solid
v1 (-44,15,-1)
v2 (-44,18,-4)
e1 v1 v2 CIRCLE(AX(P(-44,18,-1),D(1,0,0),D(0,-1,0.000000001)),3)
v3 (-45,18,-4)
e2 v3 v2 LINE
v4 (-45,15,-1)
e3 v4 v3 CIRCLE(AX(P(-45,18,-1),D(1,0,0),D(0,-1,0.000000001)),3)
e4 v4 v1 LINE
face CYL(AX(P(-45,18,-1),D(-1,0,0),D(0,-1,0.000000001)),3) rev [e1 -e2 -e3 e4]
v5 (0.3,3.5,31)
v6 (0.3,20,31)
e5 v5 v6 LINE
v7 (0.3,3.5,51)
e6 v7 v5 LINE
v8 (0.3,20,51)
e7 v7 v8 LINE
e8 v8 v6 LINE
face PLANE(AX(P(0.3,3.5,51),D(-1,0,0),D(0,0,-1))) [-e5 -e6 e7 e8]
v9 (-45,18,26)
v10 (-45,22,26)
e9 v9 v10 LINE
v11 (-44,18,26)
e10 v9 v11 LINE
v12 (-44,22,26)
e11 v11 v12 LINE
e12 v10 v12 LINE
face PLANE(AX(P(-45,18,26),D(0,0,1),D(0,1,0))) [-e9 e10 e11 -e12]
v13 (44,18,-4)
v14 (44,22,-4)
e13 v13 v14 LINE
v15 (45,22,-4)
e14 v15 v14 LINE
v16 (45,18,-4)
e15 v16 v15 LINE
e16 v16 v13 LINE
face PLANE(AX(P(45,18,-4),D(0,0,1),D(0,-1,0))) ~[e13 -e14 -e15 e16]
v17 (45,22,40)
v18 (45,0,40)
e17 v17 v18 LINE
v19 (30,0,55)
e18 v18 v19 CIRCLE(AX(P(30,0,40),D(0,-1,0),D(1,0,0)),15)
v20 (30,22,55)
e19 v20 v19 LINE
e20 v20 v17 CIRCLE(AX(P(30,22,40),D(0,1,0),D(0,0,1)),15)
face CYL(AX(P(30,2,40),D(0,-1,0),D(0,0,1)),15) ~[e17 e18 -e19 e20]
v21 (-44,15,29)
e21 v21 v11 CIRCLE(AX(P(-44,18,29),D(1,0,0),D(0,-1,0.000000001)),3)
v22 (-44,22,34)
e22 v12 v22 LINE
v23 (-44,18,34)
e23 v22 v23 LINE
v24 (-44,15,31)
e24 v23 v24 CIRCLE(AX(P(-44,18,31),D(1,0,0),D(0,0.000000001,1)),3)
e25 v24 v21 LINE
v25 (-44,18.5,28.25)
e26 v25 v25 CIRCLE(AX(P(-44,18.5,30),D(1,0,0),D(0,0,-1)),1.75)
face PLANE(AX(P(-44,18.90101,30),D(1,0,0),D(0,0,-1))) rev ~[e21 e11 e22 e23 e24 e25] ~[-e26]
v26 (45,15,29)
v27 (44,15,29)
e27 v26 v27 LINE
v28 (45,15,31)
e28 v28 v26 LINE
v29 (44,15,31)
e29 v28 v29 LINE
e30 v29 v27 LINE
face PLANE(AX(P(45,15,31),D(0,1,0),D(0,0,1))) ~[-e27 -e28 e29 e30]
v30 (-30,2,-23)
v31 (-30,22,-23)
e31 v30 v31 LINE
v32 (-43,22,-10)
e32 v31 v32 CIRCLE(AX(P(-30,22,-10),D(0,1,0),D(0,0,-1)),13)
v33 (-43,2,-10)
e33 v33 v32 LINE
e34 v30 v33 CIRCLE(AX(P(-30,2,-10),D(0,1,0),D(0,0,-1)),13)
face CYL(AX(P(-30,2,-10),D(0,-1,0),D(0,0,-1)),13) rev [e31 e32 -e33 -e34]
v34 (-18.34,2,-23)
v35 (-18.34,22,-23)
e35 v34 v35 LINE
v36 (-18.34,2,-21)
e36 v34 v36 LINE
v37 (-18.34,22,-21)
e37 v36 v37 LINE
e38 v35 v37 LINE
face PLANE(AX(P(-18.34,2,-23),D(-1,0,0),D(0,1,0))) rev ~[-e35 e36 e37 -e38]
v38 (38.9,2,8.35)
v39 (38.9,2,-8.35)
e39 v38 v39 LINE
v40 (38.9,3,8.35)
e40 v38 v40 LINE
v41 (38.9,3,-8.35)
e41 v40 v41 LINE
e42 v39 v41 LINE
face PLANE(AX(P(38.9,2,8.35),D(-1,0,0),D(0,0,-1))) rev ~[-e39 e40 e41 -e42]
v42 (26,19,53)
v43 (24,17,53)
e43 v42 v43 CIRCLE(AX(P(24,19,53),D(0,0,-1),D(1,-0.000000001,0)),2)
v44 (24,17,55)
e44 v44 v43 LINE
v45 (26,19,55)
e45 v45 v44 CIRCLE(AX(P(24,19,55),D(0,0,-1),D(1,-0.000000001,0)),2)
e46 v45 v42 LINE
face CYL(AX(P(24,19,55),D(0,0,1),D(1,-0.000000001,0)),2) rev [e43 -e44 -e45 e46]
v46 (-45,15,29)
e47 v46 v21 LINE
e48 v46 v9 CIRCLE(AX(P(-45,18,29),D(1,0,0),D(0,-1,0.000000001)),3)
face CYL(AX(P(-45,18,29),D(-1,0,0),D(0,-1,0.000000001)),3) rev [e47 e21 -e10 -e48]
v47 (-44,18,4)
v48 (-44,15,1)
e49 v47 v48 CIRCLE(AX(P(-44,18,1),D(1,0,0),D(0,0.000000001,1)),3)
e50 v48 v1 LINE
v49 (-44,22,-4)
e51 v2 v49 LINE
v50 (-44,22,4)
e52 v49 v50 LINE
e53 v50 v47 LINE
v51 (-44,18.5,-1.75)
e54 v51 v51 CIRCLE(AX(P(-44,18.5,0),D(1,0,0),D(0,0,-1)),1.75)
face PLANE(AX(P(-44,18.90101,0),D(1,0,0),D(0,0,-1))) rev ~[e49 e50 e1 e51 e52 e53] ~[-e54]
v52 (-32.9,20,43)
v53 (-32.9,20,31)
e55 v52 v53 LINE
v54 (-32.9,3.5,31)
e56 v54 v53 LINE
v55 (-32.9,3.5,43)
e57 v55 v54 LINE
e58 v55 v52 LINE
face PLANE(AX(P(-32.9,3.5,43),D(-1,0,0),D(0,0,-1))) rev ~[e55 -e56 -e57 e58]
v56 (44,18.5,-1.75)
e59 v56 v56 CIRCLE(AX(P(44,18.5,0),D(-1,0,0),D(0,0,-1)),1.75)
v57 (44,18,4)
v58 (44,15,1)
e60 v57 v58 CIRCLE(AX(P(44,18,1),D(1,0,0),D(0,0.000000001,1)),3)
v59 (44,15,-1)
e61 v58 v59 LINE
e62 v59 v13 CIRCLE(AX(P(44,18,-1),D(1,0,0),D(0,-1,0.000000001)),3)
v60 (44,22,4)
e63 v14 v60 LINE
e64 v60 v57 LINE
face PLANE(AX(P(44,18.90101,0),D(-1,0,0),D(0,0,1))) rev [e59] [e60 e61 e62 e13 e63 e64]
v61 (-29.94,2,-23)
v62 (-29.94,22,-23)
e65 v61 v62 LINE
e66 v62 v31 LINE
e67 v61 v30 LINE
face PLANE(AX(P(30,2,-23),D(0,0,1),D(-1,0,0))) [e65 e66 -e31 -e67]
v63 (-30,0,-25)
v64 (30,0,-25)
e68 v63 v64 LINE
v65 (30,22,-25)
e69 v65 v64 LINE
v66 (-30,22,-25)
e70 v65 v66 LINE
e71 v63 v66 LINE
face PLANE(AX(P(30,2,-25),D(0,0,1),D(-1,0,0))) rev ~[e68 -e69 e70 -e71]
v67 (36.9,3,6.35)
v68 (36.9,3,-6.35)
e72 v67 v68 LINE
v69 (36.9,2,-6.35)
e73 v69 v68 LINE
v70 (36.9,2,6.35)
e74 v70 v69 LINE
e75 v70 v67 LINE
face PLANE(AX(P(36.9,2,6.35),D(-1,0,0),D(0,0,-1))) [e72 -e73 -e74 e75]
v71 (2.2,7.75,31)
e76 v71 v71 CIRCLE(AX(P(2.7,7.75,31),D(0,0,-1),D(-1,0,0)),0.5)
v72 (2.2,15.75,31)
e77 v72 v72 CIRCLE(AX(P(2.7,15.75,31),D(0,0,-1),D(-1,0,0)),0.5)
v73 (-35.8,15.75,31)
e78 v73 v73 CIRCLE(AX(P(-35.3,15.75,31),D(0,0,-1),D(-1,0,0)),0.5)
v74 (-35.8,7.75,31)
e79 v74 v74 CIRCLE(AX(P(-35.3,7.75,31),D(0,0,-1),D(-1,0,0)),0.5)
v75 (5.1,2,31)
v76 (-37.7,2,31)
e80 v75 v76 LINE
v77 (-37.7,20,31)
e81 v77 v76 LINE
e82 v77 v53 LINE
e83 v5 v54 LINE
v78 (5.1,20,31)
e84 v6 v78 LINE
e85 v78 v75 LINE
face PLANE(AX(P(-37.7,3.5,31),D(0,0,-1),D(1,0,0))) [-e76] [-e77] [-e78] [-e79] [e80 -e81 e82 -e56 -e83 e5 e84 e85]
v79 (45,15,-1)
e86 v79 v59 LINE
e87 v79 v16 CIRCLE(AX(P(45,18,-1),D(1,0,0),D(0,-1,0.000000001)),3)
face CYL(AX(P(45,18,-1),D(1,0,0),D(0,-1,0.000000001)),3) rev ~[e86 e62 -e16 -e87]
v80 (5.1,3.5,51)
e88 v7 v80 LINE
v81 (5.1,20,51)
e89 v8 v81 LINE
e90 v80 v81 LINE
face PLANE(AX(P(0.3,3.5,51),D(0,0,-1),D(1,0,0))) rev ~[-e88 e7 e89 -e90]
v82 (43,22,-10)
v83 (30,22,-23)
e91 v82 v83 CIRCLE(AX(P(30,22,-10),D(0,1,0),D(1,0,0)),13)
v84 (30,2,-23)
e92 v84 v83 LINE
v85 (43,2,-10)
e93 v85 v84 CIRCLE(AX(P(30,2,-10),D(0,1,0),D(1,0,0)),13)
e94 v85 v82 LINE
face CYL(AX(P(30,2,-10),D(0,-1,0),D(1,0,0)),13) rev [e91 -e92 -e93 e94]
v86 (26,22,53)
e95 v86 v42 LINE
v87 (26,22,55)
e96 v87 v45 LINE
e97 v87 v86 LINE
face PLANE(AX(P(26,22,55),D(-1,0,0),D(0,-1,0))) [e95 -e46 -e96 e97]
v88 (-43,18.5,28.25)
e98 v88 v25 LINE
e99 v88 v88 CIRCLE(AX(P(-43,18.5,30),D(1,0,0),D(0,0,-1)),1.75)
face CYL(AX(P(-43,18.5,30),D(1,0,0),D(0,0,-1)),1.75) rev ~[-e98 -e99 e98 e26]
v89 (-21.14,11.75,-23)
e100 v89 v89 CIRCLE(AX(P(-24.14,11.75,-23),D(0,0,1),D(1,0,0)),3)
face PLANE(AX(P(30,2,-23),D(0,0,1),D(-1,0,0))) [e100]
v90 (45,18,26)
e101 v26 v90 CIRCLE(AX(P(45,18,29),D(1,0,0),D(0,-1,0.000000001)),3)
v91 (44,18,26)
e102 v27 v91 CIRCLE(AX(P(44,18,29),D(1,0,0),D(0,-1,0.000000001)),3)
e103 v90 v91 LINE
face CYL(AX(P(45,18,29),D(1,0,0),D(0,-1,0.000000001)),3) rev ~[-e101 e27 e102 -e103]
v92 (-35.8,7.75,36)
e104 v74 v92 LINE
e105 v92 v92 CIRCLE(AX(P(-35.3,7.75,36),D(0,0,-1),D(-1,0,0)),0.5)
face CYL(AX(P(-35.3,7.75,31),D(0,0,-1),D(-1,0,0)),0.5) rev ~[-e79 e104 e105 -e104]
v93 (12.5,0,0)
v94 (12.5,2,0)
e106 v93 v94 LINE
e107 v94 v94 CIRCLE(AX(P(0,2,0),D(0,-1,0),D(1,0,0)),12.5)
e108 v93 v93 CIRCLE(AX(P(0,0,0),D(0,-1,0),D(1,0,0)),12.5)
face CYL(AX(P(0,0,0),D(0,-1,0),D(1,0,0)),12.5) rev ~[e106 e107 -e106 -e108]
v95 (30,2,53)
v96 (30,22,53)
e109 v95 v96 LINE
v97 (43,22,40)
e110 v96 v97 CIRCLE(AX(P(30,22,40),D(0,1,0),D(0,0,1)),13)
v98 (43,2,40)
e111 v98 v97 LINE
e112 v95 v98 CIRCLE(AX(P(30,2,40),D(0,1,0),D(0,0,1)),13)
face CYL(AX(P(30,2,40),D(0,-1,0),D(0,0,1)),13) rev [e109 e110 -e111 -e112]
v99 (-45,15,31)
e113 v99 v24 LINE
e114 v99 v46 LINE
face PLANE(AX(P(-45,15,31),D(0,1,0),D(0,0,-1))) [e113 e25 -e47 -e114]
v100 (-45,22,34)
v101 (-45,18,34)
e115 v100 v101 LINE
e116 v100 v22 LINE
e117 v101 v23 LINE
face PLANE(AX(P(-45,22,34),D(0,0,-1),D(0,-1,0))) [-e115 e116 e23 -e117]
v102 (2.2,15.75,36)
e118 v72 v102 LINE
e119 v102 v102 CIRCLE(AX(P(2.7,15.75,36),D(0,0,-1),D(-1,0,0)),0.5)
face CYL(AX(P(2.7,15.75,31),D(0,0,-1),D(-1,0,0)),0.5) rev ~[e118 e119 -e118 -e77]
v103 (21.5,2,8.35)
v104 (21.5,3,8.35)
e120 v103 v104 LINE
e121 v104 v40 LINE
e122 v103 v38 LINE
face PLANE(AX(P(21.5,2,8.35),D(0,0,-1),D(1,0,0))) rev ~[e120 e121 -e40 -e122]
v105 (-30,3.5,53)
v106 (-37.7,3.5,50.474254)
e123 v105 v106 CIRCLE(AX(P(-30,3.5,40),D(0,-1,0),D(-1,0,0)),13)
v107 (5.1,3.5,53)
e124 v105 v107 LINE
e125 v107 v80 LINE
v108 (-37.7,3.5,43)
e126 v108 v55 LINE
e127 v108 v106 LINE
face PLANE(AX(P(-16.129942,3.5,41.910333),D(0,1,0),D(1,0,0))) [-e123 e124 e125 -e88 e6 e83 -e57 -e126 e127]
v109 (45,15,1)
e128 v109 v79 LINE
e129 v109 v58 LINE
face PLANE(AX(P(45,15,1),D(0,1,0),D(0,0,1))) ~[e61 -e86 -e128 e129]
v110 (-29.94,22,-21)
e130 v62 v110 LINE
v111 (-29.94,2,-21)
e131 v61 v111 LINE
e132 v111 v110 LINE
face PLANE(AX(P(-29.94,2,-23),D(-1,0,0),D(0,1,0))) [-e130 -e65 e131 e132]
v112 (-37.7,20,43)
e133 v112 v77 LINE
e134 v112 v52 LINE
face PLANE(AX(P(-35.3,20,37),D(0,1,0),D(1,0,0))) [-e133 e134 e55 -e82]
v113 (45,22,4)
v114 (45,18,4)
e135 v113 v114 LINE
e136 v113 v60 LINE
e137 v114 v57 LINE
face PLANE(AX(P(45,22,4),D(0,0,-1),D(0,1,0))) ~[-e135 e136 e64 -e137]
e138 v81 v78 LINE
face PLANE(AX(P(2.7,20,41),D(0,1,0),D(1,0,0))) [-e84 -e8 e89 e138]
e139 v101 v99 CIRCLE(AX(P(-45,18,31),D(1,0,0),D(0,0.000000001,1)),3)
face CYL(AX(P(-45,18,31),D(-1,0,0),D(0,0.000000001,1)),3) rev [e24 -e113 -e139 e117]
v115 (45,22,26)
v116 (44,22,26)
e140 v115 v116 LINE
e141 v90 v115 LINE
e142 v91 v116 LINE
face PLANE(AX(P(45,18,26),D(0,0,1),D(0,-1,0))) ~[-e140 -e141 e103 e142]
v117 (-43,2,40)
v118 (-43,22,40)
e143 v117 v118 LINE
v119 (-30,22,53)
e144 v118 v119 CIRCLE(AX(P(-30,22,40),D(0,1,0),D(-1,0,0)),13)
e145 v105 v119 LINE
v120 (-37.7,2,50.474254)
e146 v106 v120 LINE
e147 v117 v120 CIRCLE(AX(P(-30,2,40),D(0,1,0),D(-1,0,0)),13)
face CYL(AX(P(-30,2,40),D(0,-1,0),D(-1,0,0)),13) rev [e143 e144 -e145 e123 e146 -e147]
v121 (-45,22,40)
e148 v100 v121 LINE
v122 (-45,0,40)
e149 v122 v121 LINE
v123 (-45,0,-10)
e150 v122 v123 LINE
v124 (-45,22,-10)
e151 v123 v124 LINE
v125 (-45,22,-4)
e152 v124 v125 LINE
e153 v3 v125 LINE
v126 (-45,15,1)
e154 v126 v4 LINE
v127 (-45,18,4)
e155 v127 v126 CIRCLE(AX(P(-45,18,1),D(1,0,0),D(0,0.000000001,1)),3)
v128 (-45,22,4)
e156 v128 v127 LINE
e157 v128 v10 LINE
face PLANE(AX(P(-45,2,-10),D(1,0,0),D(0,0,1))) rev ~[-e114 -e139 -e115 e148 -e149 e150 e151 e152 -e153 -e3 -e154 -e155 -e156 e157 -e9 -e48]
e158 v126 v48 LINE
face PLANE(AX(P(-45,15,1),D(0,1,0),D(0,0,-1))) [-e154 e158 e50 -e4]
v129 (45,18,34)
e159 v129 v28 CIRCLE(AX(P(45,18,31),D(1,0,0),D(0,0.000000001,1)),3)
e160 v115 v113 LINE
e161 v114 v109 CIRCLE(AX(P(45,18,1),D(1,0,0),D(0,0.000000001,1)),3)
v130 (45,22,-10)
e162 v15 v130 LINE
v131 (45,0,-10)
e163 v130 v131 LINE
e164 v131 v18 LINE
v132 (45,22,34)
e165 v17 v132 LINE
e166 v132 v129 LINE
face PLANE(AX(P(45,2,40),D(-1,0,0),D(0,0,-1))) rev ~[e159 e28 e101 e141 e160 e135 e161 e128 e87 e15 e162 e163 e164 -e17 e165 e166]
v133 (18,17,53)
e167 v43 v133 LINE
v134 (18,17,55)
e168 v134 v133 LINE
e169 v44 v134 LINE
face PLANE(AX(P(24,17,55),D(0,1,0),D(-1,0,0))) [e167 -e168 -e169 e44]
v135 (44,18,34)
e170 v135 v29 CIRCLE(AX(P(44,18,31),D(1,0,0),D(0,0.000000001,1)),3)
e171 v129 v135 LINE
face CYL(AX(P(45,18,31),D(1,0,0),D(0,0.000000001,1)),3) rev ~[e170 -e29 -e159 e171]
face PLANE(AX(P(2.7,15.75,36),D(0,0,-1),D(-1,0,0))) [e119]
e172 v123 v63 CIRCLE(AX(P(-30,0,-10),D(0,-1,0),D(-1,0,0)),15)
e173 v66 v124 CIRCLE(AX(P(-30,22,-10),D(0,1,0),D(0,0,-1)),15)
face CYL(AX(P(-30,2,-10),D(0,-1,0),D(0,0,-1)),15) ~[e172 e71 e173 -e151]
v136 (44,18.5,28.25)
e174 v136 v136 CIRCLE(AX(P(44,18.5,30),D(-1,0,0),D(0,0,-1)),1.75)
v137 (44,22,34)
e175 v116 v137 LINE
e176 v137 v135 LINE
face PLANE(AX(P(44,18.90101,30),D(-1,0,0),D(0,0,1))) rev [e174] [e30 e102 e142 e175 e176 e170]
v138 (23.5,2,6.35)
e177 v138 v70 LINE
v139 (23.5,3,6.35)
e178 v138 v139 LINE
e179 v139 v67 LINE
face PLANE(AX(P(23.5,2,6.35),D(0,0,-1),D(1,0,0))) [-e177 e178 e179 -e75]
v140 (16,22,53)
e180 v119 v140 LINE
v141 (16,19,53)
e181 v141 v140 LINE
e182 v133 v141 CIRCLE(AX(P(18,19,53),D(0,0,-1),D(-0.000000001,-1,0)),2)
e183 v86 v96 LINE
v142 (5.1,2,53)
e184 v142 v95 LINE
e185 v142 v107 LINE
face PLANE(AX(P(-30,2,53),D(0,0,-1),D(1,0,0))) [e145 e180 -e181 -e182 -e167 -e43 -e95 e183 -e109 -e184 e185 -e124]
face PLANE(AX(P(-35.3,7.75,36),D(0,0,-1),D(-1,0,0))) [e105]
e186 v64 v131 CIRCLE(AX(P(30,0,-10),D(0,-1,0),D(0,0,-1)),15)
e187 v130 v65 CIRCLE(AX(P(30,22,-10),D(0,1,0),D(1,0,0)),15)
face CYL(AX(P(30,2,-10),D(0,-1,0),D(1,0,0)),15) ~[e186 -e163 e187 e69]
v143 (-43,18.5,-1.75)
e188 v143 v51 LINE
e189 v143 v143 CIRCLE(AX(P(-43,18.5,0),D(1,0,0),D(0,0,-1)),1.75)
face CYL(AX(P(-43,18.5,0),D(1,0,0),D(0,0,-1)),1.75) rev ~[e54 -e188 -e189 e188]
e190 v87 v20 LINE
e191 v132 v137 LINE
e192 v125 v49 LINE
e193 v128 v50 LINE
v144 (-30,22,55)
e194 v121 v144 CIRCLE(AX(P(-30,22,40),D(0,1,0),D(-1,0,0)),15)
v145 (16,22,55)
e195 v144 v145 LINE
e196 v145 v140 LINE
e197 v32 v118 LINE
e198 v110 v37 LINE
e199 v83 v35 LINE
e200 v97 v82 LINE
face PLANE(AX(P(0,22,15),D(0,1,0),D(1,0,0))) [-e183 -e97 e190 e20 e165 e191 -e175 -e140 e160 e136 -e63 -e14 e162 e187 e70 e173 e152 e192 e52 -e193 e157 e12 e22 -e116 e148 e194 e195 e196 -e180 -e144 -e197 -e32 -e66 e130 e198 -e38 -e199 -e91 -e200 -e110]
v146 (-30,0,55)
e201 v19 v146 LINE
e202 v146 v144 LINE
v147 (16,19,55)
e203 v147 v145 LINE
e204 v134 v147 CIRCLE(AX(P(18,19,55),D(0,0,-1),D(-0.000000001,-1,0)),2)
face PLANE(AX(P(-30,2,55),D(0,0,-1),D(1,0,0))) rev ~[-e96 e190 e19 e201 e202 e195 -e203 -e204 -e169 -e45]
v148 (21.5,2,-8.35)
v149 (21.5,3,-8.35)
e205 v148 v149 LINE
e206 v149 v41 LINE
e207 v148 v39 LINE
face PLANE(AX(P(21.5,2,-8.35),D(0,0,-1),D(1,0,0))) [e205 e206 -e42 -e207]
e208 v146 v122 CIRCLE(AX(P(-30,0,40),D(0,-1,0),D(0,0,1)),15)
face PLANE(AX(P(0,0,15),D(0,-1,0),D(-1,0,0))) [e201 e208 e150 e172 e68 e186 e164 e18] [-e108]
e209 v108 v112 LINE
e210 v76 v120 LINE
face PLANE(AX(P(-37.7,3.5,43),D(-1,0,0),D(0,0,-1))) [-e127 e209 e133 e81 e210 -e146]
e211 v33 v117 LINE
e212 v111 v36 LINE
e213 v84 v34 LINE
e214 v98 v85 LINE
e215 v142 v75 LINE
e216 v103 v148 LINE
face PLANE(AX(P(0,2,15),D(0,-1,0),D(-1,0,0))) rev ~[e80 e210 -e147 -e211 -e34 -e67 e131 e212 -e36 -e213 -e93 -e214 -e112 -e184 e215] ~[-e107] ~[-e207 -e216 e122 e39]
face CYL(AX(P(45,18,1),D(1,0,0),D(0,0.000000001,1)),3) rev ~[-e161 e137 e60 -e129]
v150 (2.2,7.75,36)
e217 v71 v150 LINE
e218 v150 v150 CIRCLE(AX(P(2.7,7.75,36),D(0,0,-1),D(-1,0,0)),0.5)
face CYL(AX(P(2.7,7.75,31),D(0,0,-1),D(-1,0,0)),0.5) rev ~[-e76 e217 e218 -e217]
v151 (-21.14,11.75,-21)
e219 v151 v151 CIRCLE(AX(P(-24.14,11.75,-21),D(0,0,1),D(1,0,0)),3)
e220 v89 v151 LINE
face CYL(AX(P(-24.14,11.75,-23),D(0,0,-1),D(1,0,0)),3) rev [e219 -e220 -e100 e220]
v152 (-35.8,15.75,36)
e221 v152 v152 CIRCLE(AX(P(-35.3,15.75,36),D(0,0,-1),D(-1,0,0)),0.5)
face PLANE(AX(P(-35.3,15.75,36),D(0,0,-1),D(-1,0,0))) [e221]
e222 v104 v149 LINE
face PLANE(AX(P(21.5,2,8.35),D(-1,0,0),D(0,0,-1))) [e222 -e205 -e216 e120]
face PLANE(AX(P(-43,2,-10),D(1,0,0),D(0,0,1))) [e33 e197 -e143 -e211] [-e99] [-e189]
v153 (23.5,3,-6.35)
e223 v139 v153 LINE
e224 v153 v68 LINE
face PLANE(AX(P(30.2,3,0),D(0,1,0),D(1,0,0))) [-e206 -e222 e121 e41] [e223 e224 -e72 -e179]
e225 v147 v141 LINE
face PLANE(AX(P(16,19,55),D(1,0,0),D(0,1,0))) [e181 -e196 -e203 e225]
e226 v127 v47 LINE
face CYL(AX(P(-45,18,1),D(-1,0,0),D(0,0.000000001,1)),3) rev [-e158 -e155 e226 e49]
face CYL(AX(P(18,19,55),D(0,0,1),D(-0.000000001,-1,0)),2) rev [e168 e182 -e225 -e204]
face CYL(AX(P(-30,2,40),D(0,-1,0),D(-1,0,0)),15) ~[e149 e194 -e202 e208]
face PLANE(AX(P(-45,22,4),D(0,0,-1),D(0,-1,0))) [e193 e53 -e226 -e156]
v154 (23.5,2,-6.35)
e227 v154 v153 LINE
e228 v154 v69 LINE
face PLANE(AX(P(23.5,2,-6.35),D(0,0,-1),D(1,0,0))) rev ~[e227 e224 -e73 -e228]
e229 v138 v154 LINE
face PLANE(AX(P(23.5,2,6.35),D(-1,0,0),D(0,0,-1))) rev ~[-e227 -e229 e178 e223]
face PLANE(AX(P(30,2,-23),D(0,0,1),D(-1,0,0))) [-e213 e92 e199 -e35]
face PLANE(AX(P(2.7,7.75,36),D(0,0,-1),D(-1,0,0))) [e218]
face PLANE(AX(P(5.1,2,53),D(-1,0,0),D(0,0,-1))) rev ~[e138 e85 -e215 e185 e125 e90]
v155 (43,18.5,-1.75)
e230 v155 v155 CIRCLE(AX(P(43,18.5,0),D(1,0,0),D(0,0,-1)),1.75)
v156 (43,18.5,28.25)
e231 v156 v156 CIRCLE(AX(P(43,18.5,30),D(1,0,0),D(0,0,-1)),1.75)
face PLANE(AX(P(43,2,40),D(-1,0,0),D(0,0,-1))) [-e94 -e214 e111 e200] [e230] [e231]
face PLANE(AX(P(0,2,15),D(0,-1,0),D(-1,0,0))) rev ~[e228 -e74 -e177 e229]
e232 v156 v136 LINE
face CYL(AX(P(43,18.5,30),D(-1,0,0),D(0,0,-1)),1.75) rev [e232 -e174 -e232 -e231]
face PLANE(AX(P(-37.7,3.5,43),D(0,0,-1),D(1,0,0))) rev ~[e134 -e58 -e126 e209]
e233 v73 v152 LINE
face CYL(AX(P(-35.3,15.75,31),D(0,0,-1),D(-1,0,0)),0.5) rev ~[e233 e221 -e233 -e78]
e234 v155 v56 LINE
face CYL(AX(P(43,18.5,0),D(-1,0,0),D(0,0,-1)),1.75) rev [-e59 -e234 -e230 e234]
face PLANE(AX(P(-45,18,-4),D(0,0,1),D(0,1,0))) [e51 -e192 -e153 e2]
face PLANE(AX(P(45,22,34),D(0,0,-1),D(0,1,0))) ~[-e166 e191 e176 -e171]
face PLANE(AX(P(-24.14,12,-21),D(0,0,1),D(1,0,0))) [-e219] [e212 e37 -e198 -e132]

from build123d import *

# Parameters (mm, degrees)
BOSS_EXTRUDE1_DEPTH = 2
BOSS_EXTRUDE2_DEPTH = 20
SKETCH3_R           = 12.5
CUT_EXTRUDE2_DEPTH  = 23
BOSS_EXTRUDE3_DEPTH = 1.5
SKETCH6_W           = 17.4
SKETCH6_H           = 16.7
SKETCH6_W_2         = 13.4
SKETCH6_H_2         = 12.7
BOSS_EXTRUDE4_DEPTH = 1
SKETCH7_W           = 11.6
SKETCH7_H           = 20
SKETCH7_R           = 3
BOSS_EXTRUDE5_DEPTH = 2
SKETCH8_W           = 4.8
SKETCH8_H           = 12
SKETCH8_H_2         = 20
BOSS_EXTRUDE6_DEPTH = 16.5
SKETCH9_R           = 0.5
CUT_EXTRUDE3_DEPTH  = 5
CUT_EXTRUDE4_DEPTH  = 2
SKETCH11_R          = 1.75
CUT_EXTRUDE5_DEPTH  = 2
CUT_EXTRUDE6_DEPTH  = 1


with BuildPart() as part:
    # Sketch1 → Boss-Extrude1 (new body)
    with BuildSketch(Plane(origin=(0, 0, 0), x_dir=(1, 0, 0), z_dir=(0, 1, 0))):
        with BuildLine():
            Line((-30, 25), (30, 25))
            ThreePointArc((30, 25), (40.606601718, 20.606601718), (45, 10))
            Line((45, 10), (45, -40))
            ThreePointArc((45, -40), (40.606601718, -50.606601718), (30, -55))
            Line((30, -55), (-30, -55))
            ThreePointArc((-30, -55), (-40.606601718, -50.606601718), (-45, -40))
            Line((-45, -40), (-45, 10))
            ThreePointArc((-45, 10), (-40.606601718, 20.606601718), (-30, 25))
        make_face()
    extrude(amount=BOSS_EXTRUDE1_DEPTH)

    # Sketch4 → Boss-Extrude2 (add)
    with BuildSketch(Plane(origin=(0, 2, 0), x_dir=(1, 0, 0), z_dir=(0, 1, 0))):
        with BuildLine():
            Line((30, 25), (-30, 25))
            ThreePointArc((-30, 25), (-40.606601718, 20.606601718), (-45, 10))
            Line((-45, 10), (-45, -40))
            ThreePointArc((-45, -40), (-40.606601718, -50.606601718), (-30, -55))
            Line((-30, -55), (30, -55))
            ThreePointArc((30, -55), (40.606601718, -50.606601718), (45, -40))
            Line((45, -40), (45, 10))
            ThreePointArc((45, 10), (40.606601718, 20.606601718), (30, 25))
        make_face()
        with BuildLine():
            Line((30, 23), (-30, 23))
            ThreePointArc((-30, 23), (-39.192388155, 19.192388155), (-43, 10))
            Line((-43, 10), (-43, -40))
            ThreePointArc((-43, -40), (-39.192388155, -49.192388155), (-30, -53))
            Line((-30, -53), (30, -53))
            ThreePointArc((30, -53), (39.192388155, -49.192388155), (43, -40))
            Line((43, -40), (43, 10))
            ThreePointArc((43, 10), (39.192388155, 19.192388155), (30, 23))
        make_face(mode=Mode.SUBTRACT)
    extrude(amount=BOSS_EXTRUDE2_DEPTH)

    # Sketch3 → Cut-Extrude2 (cut, through all)
    with BuildSketch(Plane.XZ):
        Circle(SKETCH3_R)
    extrude(amount=-CUT_EXTRUDE2_DEPTH, mode=Mode.SUBTRACT)

    # Sketch5 → Boss-Extrude3 (add)
    with BuildSketch(Plane(origin=(0, 2, 0), x_dir=(1, 0, 0), z_dir=(0, 1, 0))):
        Polygon((-36.002943725, -53), (5.1, -53), (5.1, -31), (-37.7, -31), (-37.7, -51.302943725), align=None)
    extrude(amount=BOSS_EXTRUDE3_DEPTH)

    # Sketch6 → Boss-Extrude4 (add)
    with BuildSketch(Plane(origin=(0, 2, 0), x_dir=(1, 0, 0), z_dir=(0, 1, 0))):
        with Locations((30.2, 0)):
            Rectangle(SKETCH6_W, SKETCH6_H)
        with Locations((30.2, 0)):
            Rectangle(SKETCH6_W_2, SKETCH6_H_2, mode=Mode.SUBTRACT)
    extrude(amount=BOSS_EXTRUDE4_DEPTH)

    # Sketch7 → Boss-Extrude5 (add)
    with BuildSketch(Plane.XY.offset(-23)):
        with Locations((-24.14, 12)):
            Rectangle(SKETCH7_W, SKETCH7_H)
        with Locations((-24.14, 11.75)):
            Circle(SKETCH7_R, mode=Mode.SUBTRACT)
    extrude(amount=BOSS_EXTRUDE5_DEPTH)

    # Sketch8 → Boss-Extrude6 (add)
    with BuildSketch(Plane(origin=(0, 3.5, 0), x_dir=(1, 0, 0), z_dir=(0, 1, 0))):
        with Locations((-35.3, -37)):
            Rectangle(SKETCH8_W, SKETCH8_H)
        with Locations((2.7, -41)):
            Rectangle(SKETCH8_W, SKETCH8_H_2)
    extrude(amount=BOSS_EXTRUDE6_DEPTH)

    # Sketch9 → Cut-Extrude3 (cut)
    with BuildSketch(Plane(origin=(0, 0, 31), x_dir=(-1, 0, 0), z_dir=(0, 0, -1))):
        with Locations((-2.7, 15.75)):
            Circle(SKETCH9_R)
        with Locations((-2.7, 7.75)):
            Circle(SKETCH9_R)
        with Locations((35.3, 15.75)):
            Circle(SKETCH9_R)
        with Locations((35.3, 7.75)):
            Circle(SKETCH9_R)
    extrude(amount=-CUT_EXTRUDE3_DEPTH, mode=Mode.SUBTRACT)

    # Sketch10 → Cut-Extrude4 (cut)
    with BuildSketch(Plane.XY.offset(55)):
        with BuildLine():
            Line((16, 22), (26, 22))
            Line((26, 22), (26, 19))
            ThreePointArc((26, 19), (25.414213562, 17.585786438), (24, 17))
            Line((24, 17), (18, 17))
            ThreePointArc((18, 17), (16.585786438, 17.585786438), (16, 19))
            Line((16, 19), (16, 22))
        make_face()
    extrude(amount=-CUT_EXTRUDE4_DEPTH, mode=Mode.SUBTRACT)

    # Sketch11 → Cut-Extrude5 (cut)
    with BuildSketch(Plane(origin=(-43, 0, 0), x_dir=(0, 0, -1), z_dir=(1, 0, 0))):
        with Locations((-30, 18.5)):
            Circle(SKETCH11_R)
        with Locations((0, 18.5)):
            Circle(SKETCH11_R)
    cut_extrude5 = extrude(amount=-CUT_EXTRUDE5_DEPTH, mode=Mode.SUBTRACT)

    # Sketch12 → Cut-Extrude6 (cut)
    with BuildSketch(Plane.ZY.offset(45)):
        with BuildLine():
            Line((-4, 22), (4, 22))
            Line((4, 22), (4, 18))
            ThreePointArc((4, 18), (3.121320344, 15.878679656), (1, 15))
            Line((1, 15), (-1, 15))
            ThreePointArc((-1, 15), (-3.121320344, 15.878679656), (-4, 18))
            Line((-4, 18), (-4, 22))
        make_face()
        with BuildLine():
            Line((26, 22), (34, 22))
            Line((34, 22), (34, 18))
            ThreePointArc((34, 18), (33.121320344, 15.878679656), (31, 15))
            Line((31, 15), (29, 15))
            ThreePointArc((29, 15), (26.878679656, 15.878679656), (26, 18))
            Line((26, 18), (26, 22))
        make_face()
    cut_extrude6 = extrude(amount=-CUT_EXTRUDE6_DEPTH, mode=Mode.SUBTRACT)

    # Mirror1: Cut-Extrude5, Cut-Extrude6 across plane
    add(cut_extrude5.mirror(Plane(origin=(0, 0, 0), x_dir=(0, 0, 1), z_dir=(1, 0, 0))), mode=Mode.SUBTRACT)
    add(cut_extrude6.mirror(Plane(origin=(0, 0, 0), x_dir=(0, 0, 1), z_dir=(1, 0, 0))), mode=Mode.SUBTRACT)


solid = part.part
